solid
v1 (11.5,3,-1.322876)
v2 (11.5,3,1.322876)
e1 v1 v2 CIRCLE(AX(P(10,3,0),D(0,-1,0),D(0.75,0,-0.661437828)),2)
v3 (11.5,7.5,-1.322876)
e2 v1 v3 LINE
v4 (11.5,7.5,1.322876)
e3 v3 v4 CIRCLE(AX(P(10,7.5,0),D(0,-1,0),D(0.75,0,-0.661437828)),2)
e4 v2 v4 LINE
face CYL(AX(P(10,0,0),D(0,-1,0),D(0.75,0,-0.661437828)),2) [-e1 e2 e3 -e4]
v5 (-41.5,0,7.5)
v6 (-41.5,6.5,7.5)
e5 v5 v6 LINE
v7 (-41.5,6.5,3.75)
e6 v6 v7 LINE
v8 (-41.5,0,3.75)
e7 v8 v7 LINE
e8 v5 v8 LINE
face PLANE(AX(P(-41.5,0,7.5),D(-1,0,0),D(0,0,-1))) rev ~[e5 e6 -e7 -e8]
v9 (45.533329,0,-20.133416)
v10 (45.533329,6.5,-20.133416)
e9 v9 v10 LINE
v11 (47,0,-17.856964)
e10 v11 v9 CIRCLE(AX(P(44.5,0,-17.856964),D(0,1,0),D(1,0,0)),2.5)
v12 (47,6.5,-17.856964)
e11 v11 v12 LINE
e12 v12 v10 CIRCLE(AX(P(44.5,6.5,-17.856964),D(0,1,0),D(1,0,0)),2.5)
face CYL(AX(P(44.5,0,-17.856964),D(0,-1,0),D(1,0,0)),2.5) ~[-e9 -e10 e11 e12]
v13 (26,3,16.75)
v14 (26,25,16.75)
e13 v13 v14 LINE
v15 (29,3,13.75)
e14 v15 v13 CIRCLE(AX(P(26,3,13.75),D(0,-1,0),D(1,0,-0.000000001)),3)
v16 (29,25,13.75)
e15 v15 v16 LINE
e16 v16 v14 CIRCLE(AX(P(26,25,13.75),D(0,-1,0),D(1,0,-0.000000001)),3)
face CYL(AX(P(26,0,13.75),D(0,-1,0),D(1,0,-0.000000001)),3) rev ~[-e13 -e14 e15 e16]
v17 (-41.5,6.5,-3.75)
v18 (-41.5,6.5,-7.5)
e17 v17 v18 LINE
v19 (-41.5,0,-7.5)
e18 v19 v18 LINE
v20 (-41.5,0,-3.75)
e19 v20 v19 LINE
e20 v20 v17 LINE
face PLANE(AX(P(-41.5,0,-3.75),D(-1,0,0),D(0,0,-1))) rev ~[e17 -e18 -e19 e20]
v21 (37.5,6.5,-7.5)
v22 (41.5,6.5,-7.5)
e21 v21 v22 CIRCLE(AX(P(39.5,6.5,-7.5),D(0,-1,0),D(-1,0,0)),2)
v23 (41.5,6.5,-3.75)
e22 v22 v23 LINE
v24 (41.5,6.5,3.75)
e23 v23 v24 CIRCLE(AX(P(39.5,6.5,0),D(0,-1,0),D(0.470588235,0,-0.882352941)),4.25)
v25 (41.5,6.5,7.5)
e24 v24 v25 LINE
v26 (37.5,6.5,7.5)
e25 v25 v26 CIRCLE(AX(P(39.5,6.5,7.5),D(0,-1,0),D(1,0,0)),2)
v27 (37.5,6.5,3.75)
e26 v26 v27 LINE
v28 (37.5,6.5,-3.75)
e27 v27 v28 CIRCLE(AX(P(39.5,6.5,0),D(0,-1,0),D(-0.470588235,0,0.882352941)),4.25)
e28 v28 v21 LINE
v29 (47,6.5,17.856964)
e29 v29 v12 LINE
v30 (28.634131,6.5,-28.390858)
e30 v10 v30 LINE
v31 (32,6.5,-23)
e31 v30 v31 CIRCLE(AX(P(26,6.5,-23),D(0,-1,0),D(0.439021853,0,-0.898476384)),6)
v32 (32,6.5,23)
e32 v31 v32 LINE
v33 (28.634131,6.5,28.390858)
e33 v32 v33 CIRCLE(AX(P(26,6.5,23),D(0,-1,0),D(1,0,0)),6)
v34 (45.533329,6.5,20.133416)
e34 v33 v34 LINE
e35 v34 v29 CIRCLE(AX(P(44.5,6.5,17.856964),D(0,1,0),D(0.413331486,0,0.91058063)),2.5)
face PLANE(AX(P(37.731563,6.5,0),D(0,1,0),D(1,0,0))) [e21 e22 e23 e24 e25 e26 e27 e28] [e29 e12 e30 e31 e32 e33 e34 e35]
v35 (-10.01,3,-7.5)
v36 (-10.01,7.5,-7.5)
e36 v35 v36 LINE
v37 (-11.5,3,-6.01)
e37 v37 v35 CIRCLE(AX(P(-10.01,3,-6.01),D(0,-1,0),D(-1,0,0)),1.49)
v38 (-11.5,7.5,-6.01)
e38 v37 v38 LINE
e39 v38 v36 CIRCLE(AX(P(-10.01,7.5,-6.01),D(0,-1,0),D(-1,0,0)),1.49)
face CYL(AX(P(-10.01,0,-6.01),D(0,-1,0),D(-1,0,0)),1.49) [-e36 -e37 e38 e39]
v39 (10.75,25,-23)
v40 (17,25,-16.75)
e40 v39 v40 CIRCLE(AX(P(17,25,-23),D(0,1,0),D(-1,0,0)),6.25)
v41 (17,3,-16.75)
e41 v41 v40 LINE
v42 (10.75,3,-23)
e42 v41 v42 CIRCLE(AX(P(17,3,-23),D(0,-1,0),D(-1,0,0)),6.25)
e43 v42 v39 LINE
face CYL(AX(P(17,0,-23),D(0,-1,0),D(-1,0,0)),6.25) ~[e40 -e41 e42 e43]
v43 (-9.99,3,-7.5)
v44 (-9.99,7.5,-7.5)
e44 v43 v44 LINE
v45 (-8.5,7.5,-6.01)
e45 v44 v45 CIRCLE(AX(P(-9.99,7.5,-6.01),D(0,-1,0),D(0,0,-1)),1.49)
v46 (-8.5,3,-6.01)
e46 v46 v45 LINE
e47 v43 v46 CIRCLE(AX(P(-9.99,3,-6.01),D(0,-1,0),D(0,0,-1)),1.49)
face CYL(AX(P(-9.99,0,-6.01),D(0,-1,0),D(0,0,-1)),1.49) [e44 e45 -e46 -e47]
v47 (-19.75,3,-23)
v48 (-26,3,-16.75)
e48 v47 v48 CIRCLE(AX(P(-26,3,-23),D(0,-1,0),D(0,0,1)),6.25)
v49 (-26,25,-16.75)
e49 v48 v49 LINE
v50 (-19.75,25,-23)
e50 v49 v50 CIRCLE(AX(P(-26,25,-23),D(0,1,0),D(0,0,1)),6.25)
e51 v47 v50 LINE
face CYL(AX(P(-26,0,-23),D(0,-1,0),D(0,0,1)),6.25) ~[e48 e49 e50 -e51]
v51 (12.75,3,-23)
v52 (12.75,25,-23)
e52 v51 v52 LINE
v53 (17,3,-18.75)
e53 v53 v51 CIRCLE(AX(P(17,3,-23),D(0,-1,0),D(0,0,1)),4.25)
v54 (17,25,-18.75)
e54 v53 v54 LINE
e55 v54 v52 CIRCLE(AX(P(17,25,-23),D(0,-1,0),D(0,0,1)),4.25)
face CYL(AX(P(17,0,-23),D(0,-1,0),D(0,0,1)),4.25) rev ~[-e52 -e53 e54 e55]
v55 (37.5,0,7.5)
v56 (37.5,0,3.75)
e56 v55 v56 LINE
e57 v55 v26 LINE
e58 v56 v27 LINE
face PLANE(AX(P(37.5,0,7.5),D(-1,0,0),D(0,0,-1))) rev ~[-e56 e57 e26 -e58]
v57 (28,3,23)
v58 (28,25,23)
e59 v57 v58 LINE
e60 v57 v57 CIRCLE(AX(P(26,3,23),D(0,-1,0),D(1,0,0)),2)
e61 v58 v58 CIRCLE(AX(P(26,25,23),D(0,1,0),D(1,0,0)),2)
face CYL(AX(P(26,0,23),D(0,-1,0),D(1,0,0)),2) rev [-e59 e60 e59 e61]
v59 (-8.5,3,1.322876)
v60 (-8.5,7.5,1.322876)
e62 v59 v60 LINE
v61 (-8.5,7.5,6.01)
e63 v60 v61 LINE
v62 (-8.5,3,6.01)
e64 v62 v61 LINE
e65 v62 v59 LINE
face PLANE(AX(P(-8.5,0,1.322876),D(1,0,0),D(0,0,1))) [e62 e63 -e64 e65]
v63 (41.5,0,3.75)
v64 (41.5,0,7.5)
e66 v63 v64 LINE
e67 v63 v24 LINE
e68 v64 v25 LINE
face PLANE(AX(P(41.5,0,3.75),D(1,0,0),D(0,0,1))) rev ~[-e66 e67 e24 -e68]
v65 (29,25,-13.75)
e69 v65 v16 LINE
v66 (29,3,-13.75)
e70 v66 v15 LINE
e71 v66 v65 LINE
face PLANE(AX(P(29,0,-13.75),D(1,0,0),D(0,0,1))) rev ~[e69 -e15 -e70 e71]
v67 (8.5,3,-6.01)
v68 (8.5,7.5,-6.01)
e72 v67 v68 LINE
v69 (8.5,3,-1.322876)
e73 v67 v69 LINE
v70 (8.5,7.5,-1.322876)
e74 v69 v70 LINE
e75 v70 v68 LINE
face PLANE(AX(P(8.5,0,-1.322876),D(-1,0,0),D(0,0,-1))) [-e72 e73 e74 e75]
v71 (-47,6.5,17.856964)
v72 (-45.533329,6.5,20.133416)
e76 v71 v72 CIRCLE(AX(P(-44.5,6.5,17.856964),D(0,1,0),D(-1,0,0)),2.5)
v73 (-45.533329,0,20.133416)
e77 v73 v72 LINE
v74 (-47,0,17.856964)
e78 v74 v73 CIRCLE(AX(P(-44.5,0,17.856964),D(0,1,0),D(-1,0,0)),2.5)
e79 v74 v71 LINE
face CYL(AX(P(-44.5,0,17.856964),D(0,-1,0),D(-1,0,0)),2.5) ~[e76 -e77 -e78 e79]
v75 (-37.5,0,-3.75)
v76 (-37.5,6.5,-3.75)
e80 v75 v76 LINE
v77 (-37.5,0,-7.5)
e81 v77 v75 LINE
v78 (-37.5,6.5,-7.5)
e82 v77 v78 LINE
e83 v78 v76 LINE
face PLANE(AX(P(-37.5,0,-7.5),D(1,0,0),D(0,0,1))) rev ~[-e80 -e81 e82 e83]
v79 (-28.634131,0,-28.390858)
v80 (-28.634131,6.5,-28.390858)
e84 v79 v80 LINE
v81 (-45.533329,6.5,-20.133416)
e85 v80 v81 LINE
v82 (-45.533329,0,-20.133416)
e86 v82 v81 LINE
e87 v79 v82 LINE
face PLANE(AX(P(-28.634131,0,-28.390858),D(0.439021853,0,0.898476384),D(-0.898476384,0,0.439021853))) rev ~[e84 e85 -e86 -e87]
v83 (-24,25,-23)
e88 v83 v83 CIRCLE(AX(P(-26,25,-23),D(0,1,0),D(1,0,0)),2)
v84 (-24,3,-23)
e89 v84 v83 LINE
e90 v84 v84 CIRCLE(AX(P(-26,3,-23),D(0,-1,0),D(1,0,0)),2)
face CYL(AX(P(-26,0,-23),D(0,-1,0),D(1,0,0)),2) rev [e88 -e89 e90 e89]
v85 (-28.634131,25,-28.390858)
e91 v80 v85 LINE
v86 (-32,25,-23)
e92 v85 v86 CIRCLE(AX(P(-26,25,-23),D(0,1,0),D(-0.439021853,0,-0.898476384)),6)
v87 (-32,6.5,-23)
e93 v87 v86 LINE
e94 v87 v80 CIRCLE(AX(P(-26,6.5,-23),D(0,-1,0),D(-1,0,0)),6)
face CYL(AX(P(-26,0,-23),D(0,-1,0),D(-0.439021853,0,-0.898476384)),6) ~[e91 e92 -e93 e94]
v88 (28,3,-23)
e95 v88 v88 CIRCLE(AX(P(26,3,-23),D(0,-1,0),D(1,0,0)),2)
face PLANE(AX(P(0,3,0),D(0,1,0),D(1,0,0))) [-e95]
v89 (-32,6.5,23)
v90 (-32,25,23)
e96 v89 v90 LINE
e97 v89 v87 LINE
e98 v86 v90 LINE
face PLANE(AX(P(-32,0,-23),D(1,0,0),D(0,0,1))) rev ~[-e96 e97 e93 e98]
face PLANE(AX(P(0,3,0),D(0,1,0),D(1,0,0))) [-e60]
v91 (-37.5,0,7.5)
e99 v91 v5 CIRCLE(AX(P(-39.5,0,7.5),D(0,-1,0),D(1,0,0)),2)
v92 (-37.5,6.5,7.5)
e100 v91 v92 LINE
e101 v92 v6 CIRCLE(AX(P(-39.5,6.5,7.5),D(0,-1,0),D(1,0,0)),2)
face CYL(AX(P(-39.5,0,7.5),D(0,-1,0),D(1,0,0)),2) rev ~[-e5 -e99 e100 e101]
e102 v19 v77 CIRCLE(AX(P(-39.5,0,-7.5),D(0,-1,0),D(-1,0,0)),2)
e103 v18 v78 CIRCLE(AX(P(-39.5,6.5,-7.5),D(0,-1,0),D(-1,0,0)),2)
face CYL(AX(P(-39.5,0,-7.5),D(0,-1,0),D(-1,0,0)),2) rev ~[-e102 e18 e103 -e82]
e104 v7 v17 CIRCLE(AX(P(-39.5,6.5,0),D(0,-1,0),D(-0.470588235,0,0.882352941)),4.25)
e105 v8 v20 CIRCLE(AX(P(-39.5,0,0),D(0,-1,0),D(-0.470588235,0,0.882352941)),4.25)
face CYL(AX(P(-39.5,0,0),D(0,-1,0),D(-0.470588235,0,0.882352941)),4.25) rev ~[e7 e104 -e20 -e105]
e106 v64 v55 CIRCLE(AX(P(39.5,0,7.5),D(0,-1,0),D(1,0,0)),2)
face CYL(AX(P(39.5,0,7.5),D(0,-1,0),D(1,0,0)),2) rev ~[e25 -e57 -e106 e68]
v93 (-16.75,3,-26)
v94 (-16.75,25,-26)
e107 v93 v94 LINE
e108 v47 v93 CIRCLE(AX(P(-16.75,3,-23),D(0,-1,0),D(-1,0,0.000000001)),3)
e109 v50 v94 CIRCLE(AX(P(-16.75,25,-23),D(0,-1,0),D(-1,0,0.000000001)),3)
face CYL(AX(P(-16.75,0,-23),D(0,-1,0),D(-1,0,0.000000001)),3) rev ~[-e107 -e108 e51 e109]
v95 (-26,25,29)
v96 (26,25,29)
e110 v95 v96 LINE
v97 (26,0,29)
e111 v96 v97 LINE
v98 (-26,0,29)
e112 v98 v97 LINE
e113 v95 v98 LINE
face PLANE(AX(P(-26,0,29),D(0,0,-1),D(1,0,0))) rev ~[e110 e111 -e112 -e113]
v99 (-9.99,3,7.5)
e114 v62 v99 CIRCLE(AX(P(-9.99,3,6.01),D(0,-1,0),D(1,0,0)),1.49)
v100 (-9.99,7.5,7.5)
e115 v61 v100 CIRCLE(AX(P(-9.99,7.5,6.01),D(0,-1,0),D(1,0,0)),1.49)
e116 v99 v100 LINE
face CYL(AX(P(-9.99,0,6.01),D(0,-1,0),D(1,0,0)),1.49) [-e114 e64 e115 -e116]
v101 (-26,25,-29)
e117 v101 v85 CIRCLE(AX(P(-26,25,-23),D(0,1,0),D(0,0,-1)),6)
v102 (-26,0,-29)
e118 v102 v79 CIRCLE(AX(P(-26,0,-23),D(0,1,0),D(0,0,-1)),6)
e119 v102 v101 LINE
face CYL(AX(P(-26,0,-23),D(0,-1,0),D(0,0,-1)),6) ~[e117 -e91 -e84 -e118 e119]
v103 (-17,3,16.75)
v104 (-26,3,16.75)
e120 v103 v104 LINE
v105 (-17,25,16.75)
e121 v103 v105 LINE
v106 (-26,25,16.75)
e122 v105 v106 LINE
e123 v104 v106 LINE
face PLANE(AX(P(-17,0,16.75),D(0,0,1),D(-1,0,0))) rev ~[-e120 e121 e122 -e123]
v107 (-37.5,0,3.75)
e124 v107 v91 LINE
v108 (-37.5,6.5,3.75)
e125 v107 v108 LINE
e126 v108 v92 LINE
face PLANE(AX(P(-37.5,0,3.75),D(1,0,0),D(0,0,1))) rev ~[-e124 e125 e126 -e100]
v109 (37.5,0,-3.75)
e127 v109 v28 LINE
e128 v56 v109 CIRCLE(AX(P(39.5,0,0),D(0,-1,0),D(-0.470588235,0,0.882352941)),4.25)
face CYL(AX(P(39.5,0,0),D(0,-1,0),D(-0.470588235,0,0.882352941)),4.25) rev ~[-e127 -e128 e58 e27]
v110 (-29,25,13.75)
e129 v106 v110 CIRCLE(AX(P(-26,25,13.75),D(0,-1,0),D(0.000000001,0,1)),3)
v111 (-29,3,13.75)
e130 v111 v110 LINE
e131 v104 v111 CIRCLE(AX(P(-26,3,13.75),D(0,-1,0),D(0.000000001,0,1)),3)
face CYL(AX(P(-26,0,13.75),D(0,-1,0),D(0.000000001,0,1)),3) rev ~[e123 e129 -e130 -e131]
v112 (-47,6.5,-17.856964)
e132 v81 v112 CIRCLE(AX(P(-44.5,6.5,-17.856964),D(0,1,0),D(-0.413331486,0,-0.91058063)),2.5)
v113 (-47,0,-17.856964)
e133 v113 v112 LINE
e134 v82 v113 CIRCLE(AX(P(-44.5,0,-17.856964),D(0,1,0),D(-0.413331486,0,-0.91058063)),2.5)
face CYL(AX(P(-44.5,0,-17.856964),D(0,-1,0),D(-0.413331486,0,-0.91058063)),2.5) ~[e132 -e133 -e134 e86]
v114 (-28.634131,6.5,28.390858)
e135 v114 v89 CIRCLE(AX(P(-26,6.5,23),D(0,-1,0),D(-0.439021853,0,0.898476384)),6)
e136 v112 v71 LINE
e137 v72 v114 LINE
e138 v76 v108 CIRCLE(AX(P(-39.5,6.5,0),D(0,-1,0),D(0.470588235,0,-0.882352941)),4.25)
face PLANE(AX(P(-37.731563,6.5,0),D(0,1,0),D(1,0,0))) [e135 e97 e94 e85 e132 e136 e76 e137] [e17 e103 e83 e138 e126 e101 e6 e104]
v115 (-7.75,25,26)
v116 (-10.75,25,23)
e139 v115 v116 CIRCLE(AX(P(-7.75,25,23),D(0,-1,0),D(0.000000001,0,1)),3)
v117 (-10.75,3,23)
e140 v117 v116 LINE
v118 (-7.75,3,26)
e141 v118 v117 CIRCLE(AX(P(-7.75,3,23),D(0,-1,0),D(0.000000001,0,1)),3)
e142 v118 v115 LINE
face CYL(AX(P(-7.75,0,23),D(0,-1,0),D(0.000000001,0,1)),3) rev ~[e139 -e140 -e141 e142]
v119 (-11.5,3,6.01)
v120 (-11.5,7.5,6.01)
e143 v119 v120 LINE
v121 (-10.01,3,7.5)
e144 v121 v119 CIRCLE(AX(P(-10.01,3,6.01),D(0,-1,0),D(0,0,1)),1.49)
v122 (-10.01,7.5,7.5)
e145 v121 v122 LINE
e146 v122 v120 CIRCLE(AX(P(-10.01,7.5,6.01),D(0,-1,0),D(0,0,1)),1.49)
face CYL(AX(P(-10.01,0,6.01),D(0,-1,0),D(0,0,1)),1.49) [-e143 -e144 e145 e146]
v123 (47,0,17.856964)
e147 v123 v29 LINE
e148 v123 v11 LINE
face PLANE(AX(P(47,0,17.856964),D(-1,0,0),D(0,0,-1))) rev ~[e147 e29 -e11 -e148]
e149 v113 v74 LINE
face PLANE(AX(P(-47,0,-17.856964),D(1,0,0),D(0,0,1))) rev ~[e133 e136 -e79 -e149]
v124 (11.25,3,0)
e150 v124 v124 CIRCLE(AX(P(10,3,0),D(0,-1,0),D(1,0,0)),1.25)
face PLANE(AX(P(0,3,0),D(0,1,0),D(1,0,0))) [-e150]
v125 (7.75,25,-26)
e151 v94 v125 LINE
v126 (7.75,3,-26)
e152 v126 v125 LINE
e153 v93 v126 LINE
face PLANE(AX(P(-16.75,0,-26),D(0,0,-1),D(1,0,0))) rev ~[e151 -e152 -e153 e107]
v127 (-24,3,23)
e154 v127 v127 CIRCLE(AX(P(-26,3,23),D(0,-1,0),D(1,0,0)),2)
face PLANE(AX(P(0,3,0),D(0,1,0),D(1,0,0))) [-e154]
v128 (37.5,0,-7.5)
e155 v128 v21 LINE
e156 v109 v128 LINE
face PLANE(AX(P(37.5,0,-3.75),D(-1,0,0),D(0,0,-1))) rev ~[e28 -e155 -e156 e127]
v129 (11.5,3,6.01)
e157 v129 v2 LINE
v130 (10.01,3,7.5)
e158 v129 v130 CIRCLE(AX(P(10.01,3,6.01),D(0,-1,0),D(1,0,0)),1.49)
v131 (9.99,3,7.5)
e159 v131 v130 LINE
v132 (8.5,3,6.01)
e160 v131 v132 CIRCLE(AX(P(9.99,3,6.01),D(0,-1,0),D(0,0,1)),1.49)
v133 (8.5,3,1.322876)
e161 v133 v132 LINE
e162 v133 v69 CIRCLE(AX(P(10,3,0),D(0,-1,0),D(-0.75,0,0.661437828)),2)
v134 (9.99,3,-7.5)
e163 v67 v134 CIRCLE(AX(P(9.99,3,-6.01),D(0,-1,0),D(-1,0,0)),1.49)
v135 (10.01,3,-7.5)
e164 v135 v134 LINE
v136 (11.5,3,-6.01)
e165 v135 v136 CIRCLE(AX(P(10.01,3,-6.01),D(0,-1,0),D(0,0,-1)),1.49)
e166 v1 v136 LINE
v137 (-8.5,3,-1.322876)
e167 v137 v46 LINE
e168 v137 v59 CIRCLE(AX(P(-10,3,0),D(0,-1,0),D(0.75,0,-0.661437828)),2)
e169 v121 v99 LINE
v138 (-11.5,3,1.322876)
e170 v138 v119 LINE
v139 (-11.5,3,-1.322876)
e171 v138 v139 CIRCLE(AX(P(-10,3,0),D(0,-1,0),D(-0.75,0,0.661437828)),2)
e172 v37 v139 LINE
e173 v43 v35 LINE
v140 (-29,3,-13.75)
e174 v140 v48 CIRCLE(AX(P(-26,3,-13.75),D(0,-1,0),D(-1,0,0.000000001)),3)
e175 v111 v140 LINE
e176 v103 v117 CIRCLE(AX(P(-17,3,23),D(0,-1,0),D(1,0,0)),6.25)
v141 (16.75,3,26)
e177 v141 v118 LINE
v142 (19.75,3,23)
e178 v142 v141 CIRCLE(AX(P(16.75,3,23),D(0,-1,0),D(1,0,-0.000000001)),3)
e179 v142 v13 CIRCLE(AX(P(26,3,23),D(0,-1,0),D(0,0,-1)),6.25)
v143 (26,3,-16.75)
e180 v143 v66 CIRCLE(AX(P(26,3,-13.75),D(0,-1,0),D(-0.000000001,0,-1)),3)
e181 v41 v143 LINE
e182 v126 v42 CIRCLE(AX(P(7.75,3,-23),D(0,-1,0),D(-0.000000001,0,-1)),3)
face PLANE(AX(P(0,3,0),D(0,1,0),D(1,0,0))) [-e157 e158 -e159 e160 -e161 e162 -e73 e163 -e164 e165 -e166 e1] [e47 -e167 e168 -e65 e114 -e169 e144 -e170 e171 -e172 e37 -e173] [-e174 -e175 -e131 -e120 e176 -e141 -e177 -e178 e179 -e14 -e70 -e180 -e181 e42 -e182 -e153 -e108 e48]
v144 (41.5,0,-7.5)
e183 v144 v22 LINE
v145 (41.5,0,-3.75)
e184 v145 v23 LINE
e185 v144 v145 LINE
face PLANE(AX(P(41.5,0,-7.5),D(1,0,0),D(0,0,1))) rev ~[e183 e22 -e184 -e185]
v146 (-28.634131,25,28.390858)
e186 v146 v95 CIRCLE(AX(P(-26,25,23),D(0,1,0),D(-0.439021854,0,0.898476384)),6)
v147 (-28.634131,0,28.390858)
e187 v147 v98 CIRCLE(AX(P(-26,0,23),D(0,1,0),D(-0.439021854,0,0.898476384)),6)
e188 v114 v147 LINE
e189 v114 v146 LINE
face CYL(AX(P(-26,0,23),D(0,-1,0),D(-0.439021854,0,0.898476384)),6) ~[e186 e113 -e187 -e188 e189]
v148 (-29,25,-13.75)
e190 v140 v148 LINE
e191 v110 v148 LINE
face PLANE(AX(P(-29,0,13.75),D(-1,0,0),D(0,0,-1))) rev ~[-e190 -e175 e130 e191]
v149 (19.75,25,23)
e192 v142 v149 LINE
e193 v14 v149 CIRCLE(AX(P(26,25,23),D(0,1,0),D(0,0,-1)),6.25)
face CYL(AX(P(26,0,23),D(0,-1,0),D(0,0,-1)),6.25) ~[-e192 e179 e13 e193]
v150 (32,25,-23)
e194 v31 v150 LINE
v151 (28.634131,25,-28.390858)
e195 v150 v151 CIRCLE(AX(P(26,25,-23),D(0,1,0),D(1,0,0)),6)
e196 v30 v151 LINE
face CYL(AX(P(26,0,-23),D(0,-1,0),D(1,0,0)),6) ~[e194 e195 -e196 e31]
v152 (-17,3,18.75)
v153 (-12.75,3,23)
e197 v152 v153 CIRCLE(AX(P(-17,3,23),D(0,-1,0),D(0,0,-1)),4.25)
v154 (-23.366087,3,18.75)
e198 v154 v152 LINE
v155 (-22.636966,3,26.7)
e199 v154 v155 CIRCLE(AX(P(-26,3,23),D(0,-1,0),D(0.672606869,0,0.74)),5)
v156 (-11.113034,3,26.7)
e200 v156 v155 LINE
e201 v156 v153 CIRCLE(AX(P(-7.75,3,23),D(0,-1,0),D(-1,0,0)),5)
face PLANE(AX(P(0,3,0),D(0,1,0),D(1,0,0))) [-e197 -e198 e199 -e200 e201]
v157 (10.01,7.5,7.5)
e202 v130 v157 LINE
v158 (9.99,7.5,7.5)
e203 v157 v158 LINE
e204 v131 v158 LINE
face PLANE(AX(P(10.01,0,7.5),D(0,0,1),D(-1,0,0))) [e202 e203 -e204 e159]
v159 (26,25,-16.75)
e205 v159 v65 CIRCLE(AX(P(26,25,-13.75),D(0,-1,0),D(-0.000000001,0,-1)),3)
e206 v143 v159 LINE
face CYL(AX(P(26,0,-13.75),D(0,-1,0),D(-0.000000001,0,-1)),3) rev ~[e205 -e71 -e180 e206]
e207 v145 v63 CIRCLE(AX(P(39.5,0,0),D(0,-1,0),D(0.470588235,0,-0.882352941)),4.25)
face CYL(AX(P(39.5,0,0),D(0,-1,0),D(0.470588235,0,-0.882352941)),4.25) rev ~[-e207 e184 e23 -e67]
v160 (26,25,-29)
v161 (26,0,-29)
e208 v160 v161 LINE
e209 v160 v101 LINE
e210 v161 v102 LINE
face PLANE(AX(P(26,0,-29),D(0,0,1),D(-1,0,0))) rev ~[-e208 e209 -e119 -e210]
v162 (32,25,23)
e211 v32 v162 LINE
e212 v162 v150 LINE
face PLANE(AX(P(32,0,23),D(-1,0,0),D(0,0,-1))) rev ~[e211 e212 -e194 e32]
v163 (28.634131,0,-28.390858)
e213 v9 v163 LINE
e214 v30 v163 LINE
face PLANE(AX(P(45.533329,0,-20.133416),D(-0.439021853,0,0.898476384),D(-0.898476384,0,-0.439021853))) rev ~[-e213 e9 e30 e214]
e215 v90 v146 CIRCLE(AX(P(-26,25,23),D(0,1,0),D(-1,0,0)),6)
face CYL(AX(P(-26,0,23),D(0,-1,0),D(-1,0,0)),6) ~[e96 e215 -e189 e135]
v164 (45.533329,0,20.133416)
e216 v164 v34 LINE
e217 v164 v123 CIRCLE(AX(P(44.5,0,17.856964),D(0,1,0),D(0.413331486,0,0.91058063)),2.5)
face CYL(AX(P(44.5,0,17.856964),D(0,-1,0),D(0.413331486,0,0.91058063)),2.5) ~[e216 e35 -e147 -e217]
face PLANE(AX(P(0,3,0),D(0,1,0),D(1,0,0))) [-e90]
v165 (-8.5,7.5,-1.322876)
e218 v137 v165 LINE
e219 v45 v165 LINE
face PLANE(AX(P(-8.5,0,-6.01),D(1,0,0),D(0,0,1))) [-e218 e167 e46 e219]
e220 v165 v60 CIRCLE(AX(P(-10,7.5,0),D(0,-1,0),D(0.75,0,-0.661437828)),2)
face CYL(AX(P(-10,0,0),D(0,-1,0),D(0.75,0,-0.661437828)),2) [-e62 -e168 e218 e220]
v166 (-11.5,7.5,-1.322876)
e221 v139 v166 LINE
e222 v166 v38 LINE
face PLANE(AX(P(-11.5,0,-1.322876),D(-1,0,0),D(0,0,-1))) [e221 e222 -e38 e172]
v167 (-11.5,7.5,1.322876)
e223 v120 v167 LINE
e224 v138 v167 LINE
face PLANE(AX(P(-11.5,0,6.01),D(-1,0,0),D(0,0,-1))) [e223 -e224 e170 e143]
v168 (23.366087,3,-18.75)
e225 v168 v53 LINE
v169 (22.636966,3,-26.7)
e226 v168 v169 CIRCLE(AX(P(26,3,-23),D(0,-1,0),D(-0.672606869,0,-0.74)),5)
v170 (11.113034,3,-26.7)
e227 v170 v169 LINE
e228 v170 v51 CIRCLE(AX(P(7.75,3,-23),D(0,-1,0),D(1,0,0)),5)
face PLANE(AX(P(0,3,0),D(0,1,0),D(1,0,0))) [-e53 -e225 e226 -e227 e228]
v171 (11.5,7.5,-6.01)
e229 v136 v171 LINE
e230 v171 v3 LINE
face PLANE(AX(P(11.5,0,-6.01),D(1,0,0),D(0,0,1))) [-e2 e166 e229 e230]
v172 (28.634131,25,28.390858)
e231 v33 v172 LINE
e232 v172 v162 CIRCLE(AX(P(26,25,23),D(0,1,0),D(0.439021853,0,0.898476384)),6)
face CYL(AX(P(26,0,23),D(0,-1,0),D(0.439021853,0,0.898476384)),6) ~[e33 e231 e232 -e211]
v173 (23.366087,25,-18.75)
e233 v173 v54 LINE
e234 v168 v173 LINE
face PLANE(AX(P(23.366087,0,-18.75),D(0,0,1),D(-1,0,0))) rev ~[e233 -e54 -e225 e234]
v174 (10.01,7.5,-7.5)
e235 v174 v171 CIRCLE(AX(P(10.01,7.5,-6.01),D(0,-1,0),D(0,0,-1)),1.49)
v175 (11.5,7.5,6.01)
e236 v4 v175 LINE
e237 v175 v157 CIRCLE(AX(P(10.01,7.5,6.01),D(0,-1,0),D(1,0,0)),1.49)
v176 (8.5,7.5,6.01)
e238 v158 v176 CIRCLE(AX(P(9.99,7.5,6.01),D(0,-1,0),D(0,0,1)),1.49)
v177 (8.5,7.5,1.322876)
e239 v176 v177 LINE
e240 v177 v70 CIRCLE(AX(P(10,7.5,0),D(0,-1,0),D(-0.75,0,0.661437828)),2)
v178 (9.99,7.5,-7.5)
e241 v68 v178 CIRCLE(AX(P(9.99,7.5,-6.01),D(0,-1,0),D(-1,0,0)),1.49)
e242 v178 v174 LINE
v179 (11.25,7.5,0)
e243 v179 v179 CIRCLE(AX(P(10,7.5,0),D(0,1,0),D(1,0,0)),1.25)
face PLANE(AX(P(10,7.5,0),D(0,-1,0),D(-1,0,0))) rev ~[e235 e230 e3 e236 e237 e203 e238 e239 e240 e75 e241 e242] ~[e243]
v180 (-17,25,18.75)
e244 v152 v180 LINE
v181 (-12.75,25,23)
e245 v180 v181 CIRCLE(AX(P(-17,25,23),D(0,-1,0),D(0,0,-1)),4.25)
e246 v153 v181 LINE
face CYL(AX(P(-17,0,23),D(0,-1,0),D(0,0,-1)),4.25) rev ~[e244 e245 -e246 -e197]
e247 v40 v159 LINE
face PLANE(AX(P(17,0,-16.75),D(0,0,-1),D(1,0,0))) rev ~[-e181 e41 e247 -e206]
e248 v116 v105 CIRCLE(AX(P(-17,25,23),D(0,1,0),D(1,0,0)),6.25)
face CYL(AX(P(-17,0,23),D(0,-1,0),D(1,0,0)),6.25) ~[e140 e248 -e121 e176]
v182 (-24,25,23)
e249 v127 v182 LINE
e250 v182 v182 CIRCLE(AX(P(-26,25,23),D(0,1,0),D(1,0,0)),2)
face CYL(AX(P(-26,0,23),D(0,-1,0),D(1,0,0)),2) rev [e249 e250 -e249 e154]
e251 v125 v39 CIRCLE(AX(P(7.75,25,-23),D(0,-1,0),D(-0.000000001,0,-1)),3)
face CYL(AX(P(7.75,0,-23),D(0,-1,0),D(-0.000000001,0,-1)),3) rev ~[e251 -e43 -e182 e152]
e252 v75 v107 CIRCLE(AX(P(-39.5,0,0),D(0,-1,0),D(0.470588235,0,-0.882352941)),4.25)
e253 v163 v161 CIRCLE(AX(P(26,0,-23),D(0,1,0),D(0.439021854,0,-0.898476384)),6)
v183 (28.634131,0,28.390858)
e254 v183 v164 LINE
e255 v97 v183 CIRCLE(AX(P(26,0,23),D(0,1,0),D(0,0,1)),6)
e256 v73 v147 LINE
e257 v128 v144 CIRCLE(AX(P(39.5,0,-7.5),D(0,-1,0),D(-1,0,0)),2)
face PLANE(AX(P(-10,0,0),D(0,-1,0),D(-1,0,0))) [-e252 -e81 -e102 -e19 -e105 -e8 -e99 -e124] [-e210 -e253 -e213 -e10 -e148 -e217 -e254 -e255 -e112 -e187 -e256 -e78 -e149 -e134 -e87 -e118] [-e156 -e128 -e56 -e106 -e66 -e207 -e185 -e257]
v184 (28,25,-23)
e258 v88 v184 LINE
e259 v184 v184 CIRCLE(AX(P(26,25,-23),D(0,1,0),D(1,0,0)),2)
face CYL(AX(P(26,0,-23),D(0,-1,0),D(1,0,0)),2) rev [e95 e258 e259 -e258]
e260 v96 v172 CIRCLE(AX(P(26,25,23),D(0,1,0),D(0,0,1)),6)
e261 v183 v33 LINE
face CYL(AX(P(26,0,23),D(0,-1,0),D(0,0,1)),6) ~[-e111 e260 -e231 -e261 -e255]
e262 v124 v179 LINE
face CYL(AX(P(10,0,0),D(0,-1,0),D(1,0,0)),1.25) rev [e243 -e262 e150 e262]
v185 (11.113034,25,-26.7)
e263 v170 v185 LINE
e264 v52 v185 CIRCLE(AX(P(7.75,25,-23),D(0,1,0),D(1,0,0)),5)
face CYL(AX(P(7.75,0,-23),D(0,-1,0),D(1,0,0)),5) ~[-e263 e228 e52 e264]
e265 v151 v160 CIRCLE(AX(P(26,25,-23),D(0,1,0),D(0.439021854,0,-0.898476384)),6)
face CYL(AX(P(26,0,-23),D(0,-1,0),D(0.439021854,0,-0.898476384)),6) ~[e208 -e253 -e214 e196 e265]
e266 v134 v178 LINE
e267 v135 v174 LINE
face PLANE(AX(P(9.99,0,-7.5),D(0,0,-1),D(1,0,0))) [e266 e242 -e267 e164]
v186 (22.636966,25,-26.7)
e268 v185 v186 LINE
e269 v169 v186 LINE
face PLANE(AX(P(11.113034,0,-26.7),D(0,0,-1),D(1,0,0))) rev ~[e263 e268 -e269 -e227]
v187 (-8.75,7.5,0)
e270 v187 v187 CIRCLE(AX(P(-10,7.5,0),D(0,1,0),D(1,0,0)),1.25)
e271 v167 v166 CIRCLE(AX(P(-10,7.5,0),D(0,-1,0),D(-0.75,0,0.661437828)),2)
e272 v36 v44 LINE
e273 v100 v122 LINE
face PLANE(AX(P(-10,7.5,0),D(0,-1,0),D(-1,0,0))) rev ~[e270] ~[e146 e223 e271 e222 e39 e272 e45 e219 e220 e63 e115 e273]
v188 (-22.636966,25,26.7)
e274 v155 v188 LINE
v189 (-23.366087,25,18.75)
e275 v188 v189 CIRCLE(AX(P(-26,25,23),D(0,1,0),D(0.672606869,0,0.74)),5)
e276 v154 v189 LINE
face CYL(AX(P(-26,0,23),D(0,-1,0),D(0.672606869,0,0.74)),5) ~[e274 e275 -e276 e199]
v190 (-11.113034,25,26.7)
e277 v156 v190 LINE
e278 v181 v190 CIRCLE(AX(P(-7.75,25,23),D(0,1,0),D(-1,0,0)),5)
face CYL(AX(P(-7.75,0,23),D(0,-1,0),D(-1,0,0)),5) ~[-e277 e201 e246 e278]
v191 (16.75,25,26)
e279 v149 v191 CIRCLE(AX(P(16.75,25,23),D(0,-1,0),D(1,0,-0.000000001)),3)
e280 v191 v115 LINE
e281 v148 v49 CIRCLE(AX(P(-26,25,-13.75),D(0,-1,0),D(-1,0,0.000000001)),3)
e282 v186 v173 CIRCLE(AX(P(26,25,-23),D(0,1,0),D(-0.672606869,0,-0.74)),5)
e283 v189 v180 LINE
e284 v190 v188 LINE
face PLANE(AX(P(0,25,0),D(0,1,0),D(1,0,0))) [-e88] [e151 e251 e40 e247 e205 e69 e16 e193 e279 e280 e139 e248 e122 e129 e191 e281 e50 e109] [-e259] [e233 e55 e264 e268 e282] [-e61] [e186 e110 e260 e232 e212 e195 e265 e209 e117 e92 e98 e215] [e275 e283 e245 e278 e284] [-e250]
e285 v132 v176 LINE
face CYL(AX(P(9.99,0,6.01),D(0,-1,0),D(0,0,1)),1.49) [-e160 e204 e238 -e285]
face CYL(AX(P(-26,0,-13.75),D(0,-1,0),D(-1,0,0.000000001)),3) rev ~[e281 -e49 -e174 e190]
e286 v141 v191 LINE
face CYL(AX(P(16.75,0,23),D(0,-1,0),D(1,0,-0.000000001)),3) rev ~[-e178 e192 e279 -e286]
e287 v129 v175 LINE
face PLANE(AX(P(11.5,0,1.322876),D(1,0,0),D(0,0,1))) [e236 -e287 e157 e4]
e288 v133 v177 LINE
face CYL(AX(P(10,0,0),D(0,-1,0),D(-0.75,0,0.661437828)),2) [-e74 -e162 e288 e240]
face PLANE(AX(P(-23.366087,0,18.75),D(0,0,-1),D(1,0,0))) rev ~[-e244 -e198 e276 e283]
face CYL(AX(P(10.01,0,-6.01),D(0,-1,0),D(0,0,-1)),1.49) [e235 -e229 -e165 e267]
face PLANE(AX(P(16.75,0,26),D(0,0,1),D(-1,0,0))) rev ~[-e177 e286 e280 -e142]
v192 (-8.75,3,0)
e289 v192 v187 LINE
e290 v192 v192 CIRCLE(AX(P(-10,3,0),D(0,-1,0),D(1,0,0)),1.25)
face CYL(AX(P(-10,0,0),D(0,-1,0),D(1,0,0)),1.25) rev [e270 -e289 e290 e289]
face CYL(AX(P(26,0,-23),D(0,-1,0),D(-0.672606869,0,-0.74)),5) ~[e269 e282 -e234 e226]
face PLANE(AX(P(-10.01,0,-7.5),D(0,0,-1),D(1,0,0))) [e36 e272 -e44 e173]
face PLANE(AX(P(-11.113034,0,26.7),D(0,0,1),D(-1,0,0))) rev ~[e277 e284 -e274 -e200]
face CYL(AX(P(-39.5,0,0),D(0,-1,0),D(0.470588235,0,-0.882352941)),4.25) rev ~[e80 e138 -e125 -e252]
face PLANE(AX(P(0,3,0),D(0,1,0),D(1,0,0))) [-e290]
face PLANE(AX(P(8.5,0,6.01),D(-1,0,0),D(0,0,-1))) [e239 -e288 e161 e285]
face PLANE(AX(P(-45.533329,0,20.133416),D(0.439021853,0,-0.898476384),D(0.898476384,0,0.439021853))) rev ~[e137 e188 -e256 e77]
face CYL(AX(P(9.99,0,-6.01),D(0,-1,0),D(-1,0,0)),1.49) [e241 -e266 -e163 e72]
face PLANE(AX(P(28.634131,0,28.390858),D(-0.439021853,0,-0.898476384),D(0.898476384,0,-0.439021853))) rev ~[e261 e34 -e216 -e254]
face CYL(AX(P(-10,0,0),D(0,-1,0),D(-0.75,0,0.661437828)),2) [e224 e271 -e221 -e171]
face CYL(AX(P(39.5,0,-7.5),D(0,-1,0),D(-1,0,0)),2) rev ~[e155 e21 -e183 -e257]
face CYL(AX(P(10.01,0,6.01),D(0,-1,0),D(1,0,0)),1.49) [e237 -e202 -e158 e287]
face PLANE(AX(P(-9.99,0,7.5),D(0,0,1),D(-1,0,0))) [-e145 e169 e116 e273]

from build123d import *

# Parameters (mm, degrees)
EXTRUDE_1_DEPTH   = 6.5
EXTRUDE_1_2_DEPTH = 6.5
SKETCH_1_3_R      = 2
EXTRUDE_2_DEPTH   = 25
EXTRUDE_3_DEPTH   = 3
SKETCH_1_13_R     = 1.25
EXTRUDE_8_DEPTH   = 7.5
SKETCH_1_12_R     = 1.25
EXTRUDE_7_DEPTH   = 7.5


with BuildPart() as part:
    # Эскиз1 → Бобышка-Вытянуть1 (new body)
    with BuildSketch(Plane(origin=(0, 0, 0), x_dir=(1, 0, 0), z_dir=(0, 1, 0))):
        with BuildLine():
            ThreePointArc((-32, 23), (-31.089439395, 26.177673149), (-28.63413112, 28.390858303))
            Line((-28.63413112, 28.390858303), (-45.533328715, 20.133415836))
            ThreePointArc((-45.533328715, 20.133415836), (-46.601585329, 19.210972795), (-47, 17.856964263))
            Line((-47, 17.856964263), (-47, -17.856964263))
            ThreePointArc((-47, -17.856964263), (-46.601585329, -19.210972795), (-45.533328715, -20.133415836))
            Line((-45.533328715, -20.133415836), (-28.63413112, -28.390858303))
            ThreePointArc((-28.63413112, -28.390858303), (-31.089439395, -26.177673149), (-32, -23))
            Line((-32, -23), (-32, 23))
        make_face()
        with BuildLine():
            Line((-41.5, -7.5), (-41.5, -3.75))
            ThreePointArc((-41.5, -3.75), (-43.75, 0), (-41.5, 3.75))
            Line((-41.5, 3.75), (-41.5, 7.5))
            ThreePointArc((-41.5, 7.5), (-39.5, 9.5), (-37.5, 7.5))
            Line((-37.5, 7.5), (-37.5, 3.75))
            ThreePointArc((-37.5, 3.75), (-35.25, 0), (-37.5, -3.75))
            Line((-37.5, -3.75), (-37.5, -7.5))
            ThreePointArc((-37.5, -7.5), (-39.5, -9.5), (-41.5, -7.5))
        make_face(mode=Mode.SUBTRACT)
    extrude(amount=EXTRUDE_1_DEPTH)



with BuildPart() as body_2:
    # Эскиз1 → Extrude 1 2 (new body)
    with BuildSketch(Plane(origin=(0, 0, 0), x_dir=(1, 0, 0), z_dir=(0, 1, 0))):
        with BuildLine():
            Line((45.533328715, 20.133415836), (28.63413112, 28.390858303))
            ThreePointArc((28.63413112, 28.390858303), (31.089439395, 26.177673149), (32, 23))
            Line((32, 23), (32, -23))
            ThreePointArc((32, -23), (31.089439395, -26.177673149), (28.63413112, -28.390858303))
            Line((28.63413112, -28.390858303), (45.533328715, -20.133415836))
            ThreePointArc((45.533328715, -20.133415836), (46.601585329, -19.210972795), (47, -17.856964263))
            Line((47, -17.856964263), (47, 17.856964263))
            ThreePointArc((47, 17.856964263), (46.601585329, 19.210972795), (45.533328715, 20.133415836))
        make_face()
        with BuildLine():
            Line((37.5, -7.5), (37.5, -3.75))
            ThreePointArc((37.5, -3.75), (35.25, 0), (37.5, 3.75))
            Line((37.5, 3.75), (37.5, 7.5))
            ThreePointArc((37.5, 7.5), (39.5, 9.5), (41.5, 7.5))
            Line((41.5, 7.5), (41.5, 3.75))
            ThreePointArc((41.5, 3.75), (43.75, 0), (41.5, -3.75))
            Line((41.5, -3.75), (41.5, -7.5))
            ThreePointArc((41.5, -7.5), (39.5, -9.5), (37.5, -7.5))
        make_face(mode=Mode.SUBTRACT)
    extrude(amount=EXTRUDE_1_2_DEPTH)


with BuildPart() as part_1:
    add(part.part)

    add(body_2.part)  # Бобышка-Вытянуть2 merges body 2
    # Эскиз1<3> → Бобышка-Вытянуть2 (add)
    with BuildSketch(Plane(origin=(0, 0, 0), x_dir=(1, 0, 0), z_dir=(0, 1, 0))):
        with BuildLine():
            Line((26, 29), (-26, 29))
            ThreePointArc((-26, 29), (-27.351822877, 28.845731341), (-28.63413112, 28.390858303))
            ThreePointArc((-28.63413112, 28.390858303), (-31.089439395, 26.177673149), (-32, 23))
            Line((-32, 23), (-32, -23))
            ThreePointArc((-32, -23), (-31.089439395, -26.177673149), (-28.63413112, -28.390858303))
            ThreePointArc((-28.63413112, -28.390858303), (-27.351822877, -28.845731341), (-26, -29))
            Line((-26, -29), (26, -29))
            ThreePointArc((26, -29), (27.351822877, -28.845731341), (28.63413112, -28.390858303))
            ThreePointArc((28.63413112, -28.390858303), (31.089439395, -26.177673149), (32, -23))
            Line((32, -23), (32, 23))
            ThreePointArc((32, 23), (31.089439395, 26.177673149), (28.63413112, 28.390858303))
            ThreePointArc((28.63413112, 28.390858303), (27.351822877, 28.845731341), (26, 29))
        make_face()
        with Locations((-26, -23)):
            Circle(SKETCH_1_3_R, mode=Mode.SUBTRACT)
        with BuildLine():
            Line((-11.113034344, -26.7), (-22.636965656, -26.7))
            ThreePointArc((-22.636965656, -26.7), (-21.020896599, -22.543349889), (-23.366086562, -18.75))
            Line((-23.366086562, -18.75), (-17, -18.75))
            ThreePointArc((-17, -18.75), (-13.99479618, -19.99479618), (-12.75, -23))
            ThreePointArc((-12.75, -23), (-12.322481368, -25.022971611), (-11.113034344, -26.7))
        make_face(mode=Mode.SUBTRACT)
        with Locations((26, -23)):
            Circle(SKETCH_1_3_R, mode=Mode.SUBTRACT)
        with BuildLine():
            Line((-16.75, 26), (7.75, 26))
            ThreePointArc((7.75, 26), (9.871320344, 25.121320344), (10.75, 23))
            ThreePointArc((10.75, 23), (12.580582618, 18.580582618), (17, 16.75))
            Line((17, 16.75), (26, 16.75))
            ThreePointArc((26, 16.75), (28.121320344, 15.871320344), (29, 13.75))
            Line((29, 13.75), (29, -13.75))
            ThreePointArc((29, -13.75), (28.121320344, -15.871320344), (26, -16.75))
            ThreePointArc((26, -16.75), (21.580582618, -18.580582618), (19.75, -23))
            ThreePointArc((19.75, -23), (18.871320344, -25.121320344), (16.75, -26))
            Line((16.75, -26), (-7.75, -26))
            ThreePointArc((-7.75, -26), (-9.871320344, -25.121320344), (-10.75, -23))
            ThreePointArc((-10.75, -23), (-12.580582618, -18.580582618), (-17, -16.75))
            Line((-17, -16.75), (-26, -16.75))
            ThreePointArc((-26, -16.75), (-28.121320344, -15.871320344), (-29, -13.75))
            Line((-29, -13.75), (-29, 13.75))
            ThreePointArc((-29, 13.75), (-28.121320344, 15.871320344), (-26, 16.75))
            ThreePointArc((-26, 16.75), (-21.580582618, 18.580582618), (-19.75, 23))
            ThreePointArc((-19.75, 23), (-18.871320344, 25.121320344), (-16.75, 26))
        make_face(mode=Mode.SUBTRACT)
        with Locations((-26, 23)):
            Circle(SKETCH_1_3_R, mode=Mode.SUBTRACT)
        with BuildLine():
            Line((23.366086562, 18.75), (17, 18.75))
            ThreePointArc((17, 18.75), (13.99479618, 19.99479618), (12.75, 23))
            ThreePointArc((12.75, 23), (12.322481368, 25.022971611), (11.113034344, 26.7))
            Line((11.113034344, 26.7), (22.636965656, 26.7))
            ThreePointArc((22.636965656, 26.7), (21.020896599, 22.543349889), (23.366086562, 18.75))
        make_face(mode=Mode.SUBTRACT)
        with Locations((26, 23)):
            Circle(SKETCH_1_3_R, mode=Mode.SUBTRACT)
    extrude(amount=EXTRUDE_2_DEPTH)

    # Эскиз1<4> → Бобышка-Вытянуть3 (add)
    with BuildSketch(Plane(origin=(0, 0, 0), x_dir=(1, 0, 0), z_dir=(0, 1, 0))):
        with BuildLine():
            Line((26, 29), (-26, 29))
            ThreePointArc((-26, 29), (-30.242640687, 27.242640687), (-32, 23))
            Line((-32, 23), (-32, -23))
            ThreePointArc((-32, -23), (-30.242640687, -27.242640687), (-26, -29))
            Line((-26, -29), (26, -29))
            ThreePointArc((26, -29), (30.242640687, -27.242640687), (32, -23))
            Line((32, -23), (32, 23))
            ThreePointArc((32, 23), (30.242640687, 27.242640687), (26, 29))
        make_face()
    extrude(amount=EXTRUDE_3_DEPTH)

    # Эскиз1<13> → Бобышка-Вытянуть8 (add)
    # profile 1 of 2: a face of its own
    with BuildSketch(Plane(origin=(0, 0, 0), x_dir=(1, 0, 0), z_dir=(0, 1, 0))):
        with BuildLine():
            Line((-11.5, 1.322875656), (-11.5, 6.01))
            ThreePointArc((-11.5, 6.01), (-11.063589104, 7.063589104), (-10.01, 7.5))
            Line((-10.01, 7.5), (-9.99, 7.5))
            ThreePointArc((-9.99, 7.5), (-8.936410896, 7.063589104), (-8.5, 6.01))
            Line((-8.5, 6.01), (-8.5, 1.322875656))
            ThreePointArc((-8.5, 1.322875656), (-8, 0), (-8.5, -1.322875656))
            Line((-8.5, -1.322875656), (-8.5, -6.01))
            ThreePointArc((-8.5, -6.01), (-8.936410896, -7.063589104), (-9.99, -7.5))
            Line((-9.99, -7.5), (-10.01, -7.5))
            ThreePointArc((-10.01, -7.5), (-11.063589104, -7.063589104), (-11.5, -6.01))
            Line((-11.5, -6.01), (-11.5, -1.322875656))
            ThreePointArc((-11.5, -1.322875656), (-12, 0), (-11.5, 1.322875656))
        make_face()
        with Locations((-10, 0)):
            Circle(SKETCH_1_13_R, mode=Mode.SUBTRACT)
    # profile 2 of 2: a face of its own
    with BuildSketch(Plane(origin=(0, 0, 0), x_dir=(1, 0, 0), z_dir=(0, 1, 0))):
        with BuildLine():
            Line((8.5, -6.01), (8.5, -1.322875656))
            ThreePointArc((8.5, -1.322875656), (8, 0), (8.5, 1.322875656))
            Line((8.5, 1.322875656), (8.5, 6.01))
            ThreePointArc((8.5, 6.01), (8.936410896, 7.063589104), (9.99, 7.5))
            Line((9.99, 7.5), (10.01, 7.5))
            ThreePointArc((10.01, 7.5), (11.063589104, 7.063589104), (11.5, 6.01))
            Line((11.5, 6.01), (11.5, 1.322875656))
            ThreePointArc((11.5, 1.322875656), (12, 0), (11.5, -1.322875656))
            Line((11.5, -1.322875656), (11.5, -6.01))
            ThreePointArc((11.5, -6.01), (11.063589104, -7.063589104), (10.01, -7.5))
            Line((10.01, -7.5), (9.99, -7.5))
            ThreePointArc((9.99, -7.5), (8.936410896, -7.063589104), (8.5, -6.01))
        make_face()
        with Locations((10, 0)):
            Circle(SKETCH_1_13_R, mode=Mode.SUBTRACT)
    extrude(amount=EXTRUDE_8_DEPTH)

    # Эскиз1<12> → Бобышка-Вытянуть7 (add)
    # profile 1 of 2: a face of its own
    with BuildSketch(Plane(origin=(0, 0, 0), x_dir=(1, 0, 0), z_dir=(0, 1, 0))):
        with BuildLine():
            Line((-11.5, 6.01), (-11.5, 1.322875656))
            ThreePointArc((-11.5, 1.322875656), (-12, 0), (-11.5, -1.322875656))
            Line((-11.5, -1.322875656), (-11.5, -6.01))
            ThreePointArc((-11.5, -6.01), (-11.063589104, -7.063589104), (-10.01, -7.5))
            Line((-10.01, -7.5), (-9.99, -7.5))
            ThreePointArc((-9.99, -7.5), (-8.936410896, -7.063589104), (-8.5, -6.01))
            Line((-8.5, -6.01), (-8.5, -1.322875656))
            ThreePointArc((-8.5, -1.322875656), (-8, 0), (-8.5, 1.322875656))
            Line((-8.5, 1.322875656), (-8.5, 6.01))
            ThreePointArc((-8.5, 6.01), (-8.936410896, 7.063589104), (-9.99, 7.5))
            Line((-9.99, 7.5), (-10.01, 7.5))
            ThreePointArc((-10.01, 7.5), (-11.063589104, 7.063589104), (-11.5, 6.01))
        make_face()
        with Locations((-10, 0)):
            Circle(SKETCH_1_12_R, mode=Mode.SUBTRACT)
    # profile 2 of 2: a face of its own
    with BuildSketch(Plane(origin=(0, 0, 0), x_dir=(1, 0, 0), z_dir=(0, 1, 0))):
        with BuildLine():
            Line((8.5, -1.322875656), (8.5, -6.01))
            ThreePointArc((8.5, -6.01), (8.936410896, -7.063589104), (9.99, -7.5))
            Line((9.99, -7.5), (10.01, -7.5))
            ThreePointArc((10.01, -7.5), (11.063589104, -7.063589104), (11.5, -6.01))
            Line((11.5, -6.01), (11.5, -1.322875656))
            ThreePointArc((11.5, -1.322875656), (12, 0), (11.5, 1.322875656))
            Line((11.5, 1.322875656), (11.5, 6.01))
            ThreePointArc((11.5, 6.01), (11.063589104, 7.063589104), (10.01, 7.5))
            Line((10.01, 7.5), (9.99, 7.5))
            ThreePointArc((9.99, 7.5), (8.936410896, 7.063589104), (8.5, 6.01))
            Line((8.5, 6.01), (8.5, 1.322875656))
            ThreePointArc((8.5, 1.322875656), (8, 0), (8.5, -1.322875656))
        make_face()
        with Locations((10, 0)):
            Circle(SKETCH_1_12_R, mode=Mode.SUBTRACT)
    extrude(amount=EXTRUDE_7_DEPTH)


solid = part_1.part
